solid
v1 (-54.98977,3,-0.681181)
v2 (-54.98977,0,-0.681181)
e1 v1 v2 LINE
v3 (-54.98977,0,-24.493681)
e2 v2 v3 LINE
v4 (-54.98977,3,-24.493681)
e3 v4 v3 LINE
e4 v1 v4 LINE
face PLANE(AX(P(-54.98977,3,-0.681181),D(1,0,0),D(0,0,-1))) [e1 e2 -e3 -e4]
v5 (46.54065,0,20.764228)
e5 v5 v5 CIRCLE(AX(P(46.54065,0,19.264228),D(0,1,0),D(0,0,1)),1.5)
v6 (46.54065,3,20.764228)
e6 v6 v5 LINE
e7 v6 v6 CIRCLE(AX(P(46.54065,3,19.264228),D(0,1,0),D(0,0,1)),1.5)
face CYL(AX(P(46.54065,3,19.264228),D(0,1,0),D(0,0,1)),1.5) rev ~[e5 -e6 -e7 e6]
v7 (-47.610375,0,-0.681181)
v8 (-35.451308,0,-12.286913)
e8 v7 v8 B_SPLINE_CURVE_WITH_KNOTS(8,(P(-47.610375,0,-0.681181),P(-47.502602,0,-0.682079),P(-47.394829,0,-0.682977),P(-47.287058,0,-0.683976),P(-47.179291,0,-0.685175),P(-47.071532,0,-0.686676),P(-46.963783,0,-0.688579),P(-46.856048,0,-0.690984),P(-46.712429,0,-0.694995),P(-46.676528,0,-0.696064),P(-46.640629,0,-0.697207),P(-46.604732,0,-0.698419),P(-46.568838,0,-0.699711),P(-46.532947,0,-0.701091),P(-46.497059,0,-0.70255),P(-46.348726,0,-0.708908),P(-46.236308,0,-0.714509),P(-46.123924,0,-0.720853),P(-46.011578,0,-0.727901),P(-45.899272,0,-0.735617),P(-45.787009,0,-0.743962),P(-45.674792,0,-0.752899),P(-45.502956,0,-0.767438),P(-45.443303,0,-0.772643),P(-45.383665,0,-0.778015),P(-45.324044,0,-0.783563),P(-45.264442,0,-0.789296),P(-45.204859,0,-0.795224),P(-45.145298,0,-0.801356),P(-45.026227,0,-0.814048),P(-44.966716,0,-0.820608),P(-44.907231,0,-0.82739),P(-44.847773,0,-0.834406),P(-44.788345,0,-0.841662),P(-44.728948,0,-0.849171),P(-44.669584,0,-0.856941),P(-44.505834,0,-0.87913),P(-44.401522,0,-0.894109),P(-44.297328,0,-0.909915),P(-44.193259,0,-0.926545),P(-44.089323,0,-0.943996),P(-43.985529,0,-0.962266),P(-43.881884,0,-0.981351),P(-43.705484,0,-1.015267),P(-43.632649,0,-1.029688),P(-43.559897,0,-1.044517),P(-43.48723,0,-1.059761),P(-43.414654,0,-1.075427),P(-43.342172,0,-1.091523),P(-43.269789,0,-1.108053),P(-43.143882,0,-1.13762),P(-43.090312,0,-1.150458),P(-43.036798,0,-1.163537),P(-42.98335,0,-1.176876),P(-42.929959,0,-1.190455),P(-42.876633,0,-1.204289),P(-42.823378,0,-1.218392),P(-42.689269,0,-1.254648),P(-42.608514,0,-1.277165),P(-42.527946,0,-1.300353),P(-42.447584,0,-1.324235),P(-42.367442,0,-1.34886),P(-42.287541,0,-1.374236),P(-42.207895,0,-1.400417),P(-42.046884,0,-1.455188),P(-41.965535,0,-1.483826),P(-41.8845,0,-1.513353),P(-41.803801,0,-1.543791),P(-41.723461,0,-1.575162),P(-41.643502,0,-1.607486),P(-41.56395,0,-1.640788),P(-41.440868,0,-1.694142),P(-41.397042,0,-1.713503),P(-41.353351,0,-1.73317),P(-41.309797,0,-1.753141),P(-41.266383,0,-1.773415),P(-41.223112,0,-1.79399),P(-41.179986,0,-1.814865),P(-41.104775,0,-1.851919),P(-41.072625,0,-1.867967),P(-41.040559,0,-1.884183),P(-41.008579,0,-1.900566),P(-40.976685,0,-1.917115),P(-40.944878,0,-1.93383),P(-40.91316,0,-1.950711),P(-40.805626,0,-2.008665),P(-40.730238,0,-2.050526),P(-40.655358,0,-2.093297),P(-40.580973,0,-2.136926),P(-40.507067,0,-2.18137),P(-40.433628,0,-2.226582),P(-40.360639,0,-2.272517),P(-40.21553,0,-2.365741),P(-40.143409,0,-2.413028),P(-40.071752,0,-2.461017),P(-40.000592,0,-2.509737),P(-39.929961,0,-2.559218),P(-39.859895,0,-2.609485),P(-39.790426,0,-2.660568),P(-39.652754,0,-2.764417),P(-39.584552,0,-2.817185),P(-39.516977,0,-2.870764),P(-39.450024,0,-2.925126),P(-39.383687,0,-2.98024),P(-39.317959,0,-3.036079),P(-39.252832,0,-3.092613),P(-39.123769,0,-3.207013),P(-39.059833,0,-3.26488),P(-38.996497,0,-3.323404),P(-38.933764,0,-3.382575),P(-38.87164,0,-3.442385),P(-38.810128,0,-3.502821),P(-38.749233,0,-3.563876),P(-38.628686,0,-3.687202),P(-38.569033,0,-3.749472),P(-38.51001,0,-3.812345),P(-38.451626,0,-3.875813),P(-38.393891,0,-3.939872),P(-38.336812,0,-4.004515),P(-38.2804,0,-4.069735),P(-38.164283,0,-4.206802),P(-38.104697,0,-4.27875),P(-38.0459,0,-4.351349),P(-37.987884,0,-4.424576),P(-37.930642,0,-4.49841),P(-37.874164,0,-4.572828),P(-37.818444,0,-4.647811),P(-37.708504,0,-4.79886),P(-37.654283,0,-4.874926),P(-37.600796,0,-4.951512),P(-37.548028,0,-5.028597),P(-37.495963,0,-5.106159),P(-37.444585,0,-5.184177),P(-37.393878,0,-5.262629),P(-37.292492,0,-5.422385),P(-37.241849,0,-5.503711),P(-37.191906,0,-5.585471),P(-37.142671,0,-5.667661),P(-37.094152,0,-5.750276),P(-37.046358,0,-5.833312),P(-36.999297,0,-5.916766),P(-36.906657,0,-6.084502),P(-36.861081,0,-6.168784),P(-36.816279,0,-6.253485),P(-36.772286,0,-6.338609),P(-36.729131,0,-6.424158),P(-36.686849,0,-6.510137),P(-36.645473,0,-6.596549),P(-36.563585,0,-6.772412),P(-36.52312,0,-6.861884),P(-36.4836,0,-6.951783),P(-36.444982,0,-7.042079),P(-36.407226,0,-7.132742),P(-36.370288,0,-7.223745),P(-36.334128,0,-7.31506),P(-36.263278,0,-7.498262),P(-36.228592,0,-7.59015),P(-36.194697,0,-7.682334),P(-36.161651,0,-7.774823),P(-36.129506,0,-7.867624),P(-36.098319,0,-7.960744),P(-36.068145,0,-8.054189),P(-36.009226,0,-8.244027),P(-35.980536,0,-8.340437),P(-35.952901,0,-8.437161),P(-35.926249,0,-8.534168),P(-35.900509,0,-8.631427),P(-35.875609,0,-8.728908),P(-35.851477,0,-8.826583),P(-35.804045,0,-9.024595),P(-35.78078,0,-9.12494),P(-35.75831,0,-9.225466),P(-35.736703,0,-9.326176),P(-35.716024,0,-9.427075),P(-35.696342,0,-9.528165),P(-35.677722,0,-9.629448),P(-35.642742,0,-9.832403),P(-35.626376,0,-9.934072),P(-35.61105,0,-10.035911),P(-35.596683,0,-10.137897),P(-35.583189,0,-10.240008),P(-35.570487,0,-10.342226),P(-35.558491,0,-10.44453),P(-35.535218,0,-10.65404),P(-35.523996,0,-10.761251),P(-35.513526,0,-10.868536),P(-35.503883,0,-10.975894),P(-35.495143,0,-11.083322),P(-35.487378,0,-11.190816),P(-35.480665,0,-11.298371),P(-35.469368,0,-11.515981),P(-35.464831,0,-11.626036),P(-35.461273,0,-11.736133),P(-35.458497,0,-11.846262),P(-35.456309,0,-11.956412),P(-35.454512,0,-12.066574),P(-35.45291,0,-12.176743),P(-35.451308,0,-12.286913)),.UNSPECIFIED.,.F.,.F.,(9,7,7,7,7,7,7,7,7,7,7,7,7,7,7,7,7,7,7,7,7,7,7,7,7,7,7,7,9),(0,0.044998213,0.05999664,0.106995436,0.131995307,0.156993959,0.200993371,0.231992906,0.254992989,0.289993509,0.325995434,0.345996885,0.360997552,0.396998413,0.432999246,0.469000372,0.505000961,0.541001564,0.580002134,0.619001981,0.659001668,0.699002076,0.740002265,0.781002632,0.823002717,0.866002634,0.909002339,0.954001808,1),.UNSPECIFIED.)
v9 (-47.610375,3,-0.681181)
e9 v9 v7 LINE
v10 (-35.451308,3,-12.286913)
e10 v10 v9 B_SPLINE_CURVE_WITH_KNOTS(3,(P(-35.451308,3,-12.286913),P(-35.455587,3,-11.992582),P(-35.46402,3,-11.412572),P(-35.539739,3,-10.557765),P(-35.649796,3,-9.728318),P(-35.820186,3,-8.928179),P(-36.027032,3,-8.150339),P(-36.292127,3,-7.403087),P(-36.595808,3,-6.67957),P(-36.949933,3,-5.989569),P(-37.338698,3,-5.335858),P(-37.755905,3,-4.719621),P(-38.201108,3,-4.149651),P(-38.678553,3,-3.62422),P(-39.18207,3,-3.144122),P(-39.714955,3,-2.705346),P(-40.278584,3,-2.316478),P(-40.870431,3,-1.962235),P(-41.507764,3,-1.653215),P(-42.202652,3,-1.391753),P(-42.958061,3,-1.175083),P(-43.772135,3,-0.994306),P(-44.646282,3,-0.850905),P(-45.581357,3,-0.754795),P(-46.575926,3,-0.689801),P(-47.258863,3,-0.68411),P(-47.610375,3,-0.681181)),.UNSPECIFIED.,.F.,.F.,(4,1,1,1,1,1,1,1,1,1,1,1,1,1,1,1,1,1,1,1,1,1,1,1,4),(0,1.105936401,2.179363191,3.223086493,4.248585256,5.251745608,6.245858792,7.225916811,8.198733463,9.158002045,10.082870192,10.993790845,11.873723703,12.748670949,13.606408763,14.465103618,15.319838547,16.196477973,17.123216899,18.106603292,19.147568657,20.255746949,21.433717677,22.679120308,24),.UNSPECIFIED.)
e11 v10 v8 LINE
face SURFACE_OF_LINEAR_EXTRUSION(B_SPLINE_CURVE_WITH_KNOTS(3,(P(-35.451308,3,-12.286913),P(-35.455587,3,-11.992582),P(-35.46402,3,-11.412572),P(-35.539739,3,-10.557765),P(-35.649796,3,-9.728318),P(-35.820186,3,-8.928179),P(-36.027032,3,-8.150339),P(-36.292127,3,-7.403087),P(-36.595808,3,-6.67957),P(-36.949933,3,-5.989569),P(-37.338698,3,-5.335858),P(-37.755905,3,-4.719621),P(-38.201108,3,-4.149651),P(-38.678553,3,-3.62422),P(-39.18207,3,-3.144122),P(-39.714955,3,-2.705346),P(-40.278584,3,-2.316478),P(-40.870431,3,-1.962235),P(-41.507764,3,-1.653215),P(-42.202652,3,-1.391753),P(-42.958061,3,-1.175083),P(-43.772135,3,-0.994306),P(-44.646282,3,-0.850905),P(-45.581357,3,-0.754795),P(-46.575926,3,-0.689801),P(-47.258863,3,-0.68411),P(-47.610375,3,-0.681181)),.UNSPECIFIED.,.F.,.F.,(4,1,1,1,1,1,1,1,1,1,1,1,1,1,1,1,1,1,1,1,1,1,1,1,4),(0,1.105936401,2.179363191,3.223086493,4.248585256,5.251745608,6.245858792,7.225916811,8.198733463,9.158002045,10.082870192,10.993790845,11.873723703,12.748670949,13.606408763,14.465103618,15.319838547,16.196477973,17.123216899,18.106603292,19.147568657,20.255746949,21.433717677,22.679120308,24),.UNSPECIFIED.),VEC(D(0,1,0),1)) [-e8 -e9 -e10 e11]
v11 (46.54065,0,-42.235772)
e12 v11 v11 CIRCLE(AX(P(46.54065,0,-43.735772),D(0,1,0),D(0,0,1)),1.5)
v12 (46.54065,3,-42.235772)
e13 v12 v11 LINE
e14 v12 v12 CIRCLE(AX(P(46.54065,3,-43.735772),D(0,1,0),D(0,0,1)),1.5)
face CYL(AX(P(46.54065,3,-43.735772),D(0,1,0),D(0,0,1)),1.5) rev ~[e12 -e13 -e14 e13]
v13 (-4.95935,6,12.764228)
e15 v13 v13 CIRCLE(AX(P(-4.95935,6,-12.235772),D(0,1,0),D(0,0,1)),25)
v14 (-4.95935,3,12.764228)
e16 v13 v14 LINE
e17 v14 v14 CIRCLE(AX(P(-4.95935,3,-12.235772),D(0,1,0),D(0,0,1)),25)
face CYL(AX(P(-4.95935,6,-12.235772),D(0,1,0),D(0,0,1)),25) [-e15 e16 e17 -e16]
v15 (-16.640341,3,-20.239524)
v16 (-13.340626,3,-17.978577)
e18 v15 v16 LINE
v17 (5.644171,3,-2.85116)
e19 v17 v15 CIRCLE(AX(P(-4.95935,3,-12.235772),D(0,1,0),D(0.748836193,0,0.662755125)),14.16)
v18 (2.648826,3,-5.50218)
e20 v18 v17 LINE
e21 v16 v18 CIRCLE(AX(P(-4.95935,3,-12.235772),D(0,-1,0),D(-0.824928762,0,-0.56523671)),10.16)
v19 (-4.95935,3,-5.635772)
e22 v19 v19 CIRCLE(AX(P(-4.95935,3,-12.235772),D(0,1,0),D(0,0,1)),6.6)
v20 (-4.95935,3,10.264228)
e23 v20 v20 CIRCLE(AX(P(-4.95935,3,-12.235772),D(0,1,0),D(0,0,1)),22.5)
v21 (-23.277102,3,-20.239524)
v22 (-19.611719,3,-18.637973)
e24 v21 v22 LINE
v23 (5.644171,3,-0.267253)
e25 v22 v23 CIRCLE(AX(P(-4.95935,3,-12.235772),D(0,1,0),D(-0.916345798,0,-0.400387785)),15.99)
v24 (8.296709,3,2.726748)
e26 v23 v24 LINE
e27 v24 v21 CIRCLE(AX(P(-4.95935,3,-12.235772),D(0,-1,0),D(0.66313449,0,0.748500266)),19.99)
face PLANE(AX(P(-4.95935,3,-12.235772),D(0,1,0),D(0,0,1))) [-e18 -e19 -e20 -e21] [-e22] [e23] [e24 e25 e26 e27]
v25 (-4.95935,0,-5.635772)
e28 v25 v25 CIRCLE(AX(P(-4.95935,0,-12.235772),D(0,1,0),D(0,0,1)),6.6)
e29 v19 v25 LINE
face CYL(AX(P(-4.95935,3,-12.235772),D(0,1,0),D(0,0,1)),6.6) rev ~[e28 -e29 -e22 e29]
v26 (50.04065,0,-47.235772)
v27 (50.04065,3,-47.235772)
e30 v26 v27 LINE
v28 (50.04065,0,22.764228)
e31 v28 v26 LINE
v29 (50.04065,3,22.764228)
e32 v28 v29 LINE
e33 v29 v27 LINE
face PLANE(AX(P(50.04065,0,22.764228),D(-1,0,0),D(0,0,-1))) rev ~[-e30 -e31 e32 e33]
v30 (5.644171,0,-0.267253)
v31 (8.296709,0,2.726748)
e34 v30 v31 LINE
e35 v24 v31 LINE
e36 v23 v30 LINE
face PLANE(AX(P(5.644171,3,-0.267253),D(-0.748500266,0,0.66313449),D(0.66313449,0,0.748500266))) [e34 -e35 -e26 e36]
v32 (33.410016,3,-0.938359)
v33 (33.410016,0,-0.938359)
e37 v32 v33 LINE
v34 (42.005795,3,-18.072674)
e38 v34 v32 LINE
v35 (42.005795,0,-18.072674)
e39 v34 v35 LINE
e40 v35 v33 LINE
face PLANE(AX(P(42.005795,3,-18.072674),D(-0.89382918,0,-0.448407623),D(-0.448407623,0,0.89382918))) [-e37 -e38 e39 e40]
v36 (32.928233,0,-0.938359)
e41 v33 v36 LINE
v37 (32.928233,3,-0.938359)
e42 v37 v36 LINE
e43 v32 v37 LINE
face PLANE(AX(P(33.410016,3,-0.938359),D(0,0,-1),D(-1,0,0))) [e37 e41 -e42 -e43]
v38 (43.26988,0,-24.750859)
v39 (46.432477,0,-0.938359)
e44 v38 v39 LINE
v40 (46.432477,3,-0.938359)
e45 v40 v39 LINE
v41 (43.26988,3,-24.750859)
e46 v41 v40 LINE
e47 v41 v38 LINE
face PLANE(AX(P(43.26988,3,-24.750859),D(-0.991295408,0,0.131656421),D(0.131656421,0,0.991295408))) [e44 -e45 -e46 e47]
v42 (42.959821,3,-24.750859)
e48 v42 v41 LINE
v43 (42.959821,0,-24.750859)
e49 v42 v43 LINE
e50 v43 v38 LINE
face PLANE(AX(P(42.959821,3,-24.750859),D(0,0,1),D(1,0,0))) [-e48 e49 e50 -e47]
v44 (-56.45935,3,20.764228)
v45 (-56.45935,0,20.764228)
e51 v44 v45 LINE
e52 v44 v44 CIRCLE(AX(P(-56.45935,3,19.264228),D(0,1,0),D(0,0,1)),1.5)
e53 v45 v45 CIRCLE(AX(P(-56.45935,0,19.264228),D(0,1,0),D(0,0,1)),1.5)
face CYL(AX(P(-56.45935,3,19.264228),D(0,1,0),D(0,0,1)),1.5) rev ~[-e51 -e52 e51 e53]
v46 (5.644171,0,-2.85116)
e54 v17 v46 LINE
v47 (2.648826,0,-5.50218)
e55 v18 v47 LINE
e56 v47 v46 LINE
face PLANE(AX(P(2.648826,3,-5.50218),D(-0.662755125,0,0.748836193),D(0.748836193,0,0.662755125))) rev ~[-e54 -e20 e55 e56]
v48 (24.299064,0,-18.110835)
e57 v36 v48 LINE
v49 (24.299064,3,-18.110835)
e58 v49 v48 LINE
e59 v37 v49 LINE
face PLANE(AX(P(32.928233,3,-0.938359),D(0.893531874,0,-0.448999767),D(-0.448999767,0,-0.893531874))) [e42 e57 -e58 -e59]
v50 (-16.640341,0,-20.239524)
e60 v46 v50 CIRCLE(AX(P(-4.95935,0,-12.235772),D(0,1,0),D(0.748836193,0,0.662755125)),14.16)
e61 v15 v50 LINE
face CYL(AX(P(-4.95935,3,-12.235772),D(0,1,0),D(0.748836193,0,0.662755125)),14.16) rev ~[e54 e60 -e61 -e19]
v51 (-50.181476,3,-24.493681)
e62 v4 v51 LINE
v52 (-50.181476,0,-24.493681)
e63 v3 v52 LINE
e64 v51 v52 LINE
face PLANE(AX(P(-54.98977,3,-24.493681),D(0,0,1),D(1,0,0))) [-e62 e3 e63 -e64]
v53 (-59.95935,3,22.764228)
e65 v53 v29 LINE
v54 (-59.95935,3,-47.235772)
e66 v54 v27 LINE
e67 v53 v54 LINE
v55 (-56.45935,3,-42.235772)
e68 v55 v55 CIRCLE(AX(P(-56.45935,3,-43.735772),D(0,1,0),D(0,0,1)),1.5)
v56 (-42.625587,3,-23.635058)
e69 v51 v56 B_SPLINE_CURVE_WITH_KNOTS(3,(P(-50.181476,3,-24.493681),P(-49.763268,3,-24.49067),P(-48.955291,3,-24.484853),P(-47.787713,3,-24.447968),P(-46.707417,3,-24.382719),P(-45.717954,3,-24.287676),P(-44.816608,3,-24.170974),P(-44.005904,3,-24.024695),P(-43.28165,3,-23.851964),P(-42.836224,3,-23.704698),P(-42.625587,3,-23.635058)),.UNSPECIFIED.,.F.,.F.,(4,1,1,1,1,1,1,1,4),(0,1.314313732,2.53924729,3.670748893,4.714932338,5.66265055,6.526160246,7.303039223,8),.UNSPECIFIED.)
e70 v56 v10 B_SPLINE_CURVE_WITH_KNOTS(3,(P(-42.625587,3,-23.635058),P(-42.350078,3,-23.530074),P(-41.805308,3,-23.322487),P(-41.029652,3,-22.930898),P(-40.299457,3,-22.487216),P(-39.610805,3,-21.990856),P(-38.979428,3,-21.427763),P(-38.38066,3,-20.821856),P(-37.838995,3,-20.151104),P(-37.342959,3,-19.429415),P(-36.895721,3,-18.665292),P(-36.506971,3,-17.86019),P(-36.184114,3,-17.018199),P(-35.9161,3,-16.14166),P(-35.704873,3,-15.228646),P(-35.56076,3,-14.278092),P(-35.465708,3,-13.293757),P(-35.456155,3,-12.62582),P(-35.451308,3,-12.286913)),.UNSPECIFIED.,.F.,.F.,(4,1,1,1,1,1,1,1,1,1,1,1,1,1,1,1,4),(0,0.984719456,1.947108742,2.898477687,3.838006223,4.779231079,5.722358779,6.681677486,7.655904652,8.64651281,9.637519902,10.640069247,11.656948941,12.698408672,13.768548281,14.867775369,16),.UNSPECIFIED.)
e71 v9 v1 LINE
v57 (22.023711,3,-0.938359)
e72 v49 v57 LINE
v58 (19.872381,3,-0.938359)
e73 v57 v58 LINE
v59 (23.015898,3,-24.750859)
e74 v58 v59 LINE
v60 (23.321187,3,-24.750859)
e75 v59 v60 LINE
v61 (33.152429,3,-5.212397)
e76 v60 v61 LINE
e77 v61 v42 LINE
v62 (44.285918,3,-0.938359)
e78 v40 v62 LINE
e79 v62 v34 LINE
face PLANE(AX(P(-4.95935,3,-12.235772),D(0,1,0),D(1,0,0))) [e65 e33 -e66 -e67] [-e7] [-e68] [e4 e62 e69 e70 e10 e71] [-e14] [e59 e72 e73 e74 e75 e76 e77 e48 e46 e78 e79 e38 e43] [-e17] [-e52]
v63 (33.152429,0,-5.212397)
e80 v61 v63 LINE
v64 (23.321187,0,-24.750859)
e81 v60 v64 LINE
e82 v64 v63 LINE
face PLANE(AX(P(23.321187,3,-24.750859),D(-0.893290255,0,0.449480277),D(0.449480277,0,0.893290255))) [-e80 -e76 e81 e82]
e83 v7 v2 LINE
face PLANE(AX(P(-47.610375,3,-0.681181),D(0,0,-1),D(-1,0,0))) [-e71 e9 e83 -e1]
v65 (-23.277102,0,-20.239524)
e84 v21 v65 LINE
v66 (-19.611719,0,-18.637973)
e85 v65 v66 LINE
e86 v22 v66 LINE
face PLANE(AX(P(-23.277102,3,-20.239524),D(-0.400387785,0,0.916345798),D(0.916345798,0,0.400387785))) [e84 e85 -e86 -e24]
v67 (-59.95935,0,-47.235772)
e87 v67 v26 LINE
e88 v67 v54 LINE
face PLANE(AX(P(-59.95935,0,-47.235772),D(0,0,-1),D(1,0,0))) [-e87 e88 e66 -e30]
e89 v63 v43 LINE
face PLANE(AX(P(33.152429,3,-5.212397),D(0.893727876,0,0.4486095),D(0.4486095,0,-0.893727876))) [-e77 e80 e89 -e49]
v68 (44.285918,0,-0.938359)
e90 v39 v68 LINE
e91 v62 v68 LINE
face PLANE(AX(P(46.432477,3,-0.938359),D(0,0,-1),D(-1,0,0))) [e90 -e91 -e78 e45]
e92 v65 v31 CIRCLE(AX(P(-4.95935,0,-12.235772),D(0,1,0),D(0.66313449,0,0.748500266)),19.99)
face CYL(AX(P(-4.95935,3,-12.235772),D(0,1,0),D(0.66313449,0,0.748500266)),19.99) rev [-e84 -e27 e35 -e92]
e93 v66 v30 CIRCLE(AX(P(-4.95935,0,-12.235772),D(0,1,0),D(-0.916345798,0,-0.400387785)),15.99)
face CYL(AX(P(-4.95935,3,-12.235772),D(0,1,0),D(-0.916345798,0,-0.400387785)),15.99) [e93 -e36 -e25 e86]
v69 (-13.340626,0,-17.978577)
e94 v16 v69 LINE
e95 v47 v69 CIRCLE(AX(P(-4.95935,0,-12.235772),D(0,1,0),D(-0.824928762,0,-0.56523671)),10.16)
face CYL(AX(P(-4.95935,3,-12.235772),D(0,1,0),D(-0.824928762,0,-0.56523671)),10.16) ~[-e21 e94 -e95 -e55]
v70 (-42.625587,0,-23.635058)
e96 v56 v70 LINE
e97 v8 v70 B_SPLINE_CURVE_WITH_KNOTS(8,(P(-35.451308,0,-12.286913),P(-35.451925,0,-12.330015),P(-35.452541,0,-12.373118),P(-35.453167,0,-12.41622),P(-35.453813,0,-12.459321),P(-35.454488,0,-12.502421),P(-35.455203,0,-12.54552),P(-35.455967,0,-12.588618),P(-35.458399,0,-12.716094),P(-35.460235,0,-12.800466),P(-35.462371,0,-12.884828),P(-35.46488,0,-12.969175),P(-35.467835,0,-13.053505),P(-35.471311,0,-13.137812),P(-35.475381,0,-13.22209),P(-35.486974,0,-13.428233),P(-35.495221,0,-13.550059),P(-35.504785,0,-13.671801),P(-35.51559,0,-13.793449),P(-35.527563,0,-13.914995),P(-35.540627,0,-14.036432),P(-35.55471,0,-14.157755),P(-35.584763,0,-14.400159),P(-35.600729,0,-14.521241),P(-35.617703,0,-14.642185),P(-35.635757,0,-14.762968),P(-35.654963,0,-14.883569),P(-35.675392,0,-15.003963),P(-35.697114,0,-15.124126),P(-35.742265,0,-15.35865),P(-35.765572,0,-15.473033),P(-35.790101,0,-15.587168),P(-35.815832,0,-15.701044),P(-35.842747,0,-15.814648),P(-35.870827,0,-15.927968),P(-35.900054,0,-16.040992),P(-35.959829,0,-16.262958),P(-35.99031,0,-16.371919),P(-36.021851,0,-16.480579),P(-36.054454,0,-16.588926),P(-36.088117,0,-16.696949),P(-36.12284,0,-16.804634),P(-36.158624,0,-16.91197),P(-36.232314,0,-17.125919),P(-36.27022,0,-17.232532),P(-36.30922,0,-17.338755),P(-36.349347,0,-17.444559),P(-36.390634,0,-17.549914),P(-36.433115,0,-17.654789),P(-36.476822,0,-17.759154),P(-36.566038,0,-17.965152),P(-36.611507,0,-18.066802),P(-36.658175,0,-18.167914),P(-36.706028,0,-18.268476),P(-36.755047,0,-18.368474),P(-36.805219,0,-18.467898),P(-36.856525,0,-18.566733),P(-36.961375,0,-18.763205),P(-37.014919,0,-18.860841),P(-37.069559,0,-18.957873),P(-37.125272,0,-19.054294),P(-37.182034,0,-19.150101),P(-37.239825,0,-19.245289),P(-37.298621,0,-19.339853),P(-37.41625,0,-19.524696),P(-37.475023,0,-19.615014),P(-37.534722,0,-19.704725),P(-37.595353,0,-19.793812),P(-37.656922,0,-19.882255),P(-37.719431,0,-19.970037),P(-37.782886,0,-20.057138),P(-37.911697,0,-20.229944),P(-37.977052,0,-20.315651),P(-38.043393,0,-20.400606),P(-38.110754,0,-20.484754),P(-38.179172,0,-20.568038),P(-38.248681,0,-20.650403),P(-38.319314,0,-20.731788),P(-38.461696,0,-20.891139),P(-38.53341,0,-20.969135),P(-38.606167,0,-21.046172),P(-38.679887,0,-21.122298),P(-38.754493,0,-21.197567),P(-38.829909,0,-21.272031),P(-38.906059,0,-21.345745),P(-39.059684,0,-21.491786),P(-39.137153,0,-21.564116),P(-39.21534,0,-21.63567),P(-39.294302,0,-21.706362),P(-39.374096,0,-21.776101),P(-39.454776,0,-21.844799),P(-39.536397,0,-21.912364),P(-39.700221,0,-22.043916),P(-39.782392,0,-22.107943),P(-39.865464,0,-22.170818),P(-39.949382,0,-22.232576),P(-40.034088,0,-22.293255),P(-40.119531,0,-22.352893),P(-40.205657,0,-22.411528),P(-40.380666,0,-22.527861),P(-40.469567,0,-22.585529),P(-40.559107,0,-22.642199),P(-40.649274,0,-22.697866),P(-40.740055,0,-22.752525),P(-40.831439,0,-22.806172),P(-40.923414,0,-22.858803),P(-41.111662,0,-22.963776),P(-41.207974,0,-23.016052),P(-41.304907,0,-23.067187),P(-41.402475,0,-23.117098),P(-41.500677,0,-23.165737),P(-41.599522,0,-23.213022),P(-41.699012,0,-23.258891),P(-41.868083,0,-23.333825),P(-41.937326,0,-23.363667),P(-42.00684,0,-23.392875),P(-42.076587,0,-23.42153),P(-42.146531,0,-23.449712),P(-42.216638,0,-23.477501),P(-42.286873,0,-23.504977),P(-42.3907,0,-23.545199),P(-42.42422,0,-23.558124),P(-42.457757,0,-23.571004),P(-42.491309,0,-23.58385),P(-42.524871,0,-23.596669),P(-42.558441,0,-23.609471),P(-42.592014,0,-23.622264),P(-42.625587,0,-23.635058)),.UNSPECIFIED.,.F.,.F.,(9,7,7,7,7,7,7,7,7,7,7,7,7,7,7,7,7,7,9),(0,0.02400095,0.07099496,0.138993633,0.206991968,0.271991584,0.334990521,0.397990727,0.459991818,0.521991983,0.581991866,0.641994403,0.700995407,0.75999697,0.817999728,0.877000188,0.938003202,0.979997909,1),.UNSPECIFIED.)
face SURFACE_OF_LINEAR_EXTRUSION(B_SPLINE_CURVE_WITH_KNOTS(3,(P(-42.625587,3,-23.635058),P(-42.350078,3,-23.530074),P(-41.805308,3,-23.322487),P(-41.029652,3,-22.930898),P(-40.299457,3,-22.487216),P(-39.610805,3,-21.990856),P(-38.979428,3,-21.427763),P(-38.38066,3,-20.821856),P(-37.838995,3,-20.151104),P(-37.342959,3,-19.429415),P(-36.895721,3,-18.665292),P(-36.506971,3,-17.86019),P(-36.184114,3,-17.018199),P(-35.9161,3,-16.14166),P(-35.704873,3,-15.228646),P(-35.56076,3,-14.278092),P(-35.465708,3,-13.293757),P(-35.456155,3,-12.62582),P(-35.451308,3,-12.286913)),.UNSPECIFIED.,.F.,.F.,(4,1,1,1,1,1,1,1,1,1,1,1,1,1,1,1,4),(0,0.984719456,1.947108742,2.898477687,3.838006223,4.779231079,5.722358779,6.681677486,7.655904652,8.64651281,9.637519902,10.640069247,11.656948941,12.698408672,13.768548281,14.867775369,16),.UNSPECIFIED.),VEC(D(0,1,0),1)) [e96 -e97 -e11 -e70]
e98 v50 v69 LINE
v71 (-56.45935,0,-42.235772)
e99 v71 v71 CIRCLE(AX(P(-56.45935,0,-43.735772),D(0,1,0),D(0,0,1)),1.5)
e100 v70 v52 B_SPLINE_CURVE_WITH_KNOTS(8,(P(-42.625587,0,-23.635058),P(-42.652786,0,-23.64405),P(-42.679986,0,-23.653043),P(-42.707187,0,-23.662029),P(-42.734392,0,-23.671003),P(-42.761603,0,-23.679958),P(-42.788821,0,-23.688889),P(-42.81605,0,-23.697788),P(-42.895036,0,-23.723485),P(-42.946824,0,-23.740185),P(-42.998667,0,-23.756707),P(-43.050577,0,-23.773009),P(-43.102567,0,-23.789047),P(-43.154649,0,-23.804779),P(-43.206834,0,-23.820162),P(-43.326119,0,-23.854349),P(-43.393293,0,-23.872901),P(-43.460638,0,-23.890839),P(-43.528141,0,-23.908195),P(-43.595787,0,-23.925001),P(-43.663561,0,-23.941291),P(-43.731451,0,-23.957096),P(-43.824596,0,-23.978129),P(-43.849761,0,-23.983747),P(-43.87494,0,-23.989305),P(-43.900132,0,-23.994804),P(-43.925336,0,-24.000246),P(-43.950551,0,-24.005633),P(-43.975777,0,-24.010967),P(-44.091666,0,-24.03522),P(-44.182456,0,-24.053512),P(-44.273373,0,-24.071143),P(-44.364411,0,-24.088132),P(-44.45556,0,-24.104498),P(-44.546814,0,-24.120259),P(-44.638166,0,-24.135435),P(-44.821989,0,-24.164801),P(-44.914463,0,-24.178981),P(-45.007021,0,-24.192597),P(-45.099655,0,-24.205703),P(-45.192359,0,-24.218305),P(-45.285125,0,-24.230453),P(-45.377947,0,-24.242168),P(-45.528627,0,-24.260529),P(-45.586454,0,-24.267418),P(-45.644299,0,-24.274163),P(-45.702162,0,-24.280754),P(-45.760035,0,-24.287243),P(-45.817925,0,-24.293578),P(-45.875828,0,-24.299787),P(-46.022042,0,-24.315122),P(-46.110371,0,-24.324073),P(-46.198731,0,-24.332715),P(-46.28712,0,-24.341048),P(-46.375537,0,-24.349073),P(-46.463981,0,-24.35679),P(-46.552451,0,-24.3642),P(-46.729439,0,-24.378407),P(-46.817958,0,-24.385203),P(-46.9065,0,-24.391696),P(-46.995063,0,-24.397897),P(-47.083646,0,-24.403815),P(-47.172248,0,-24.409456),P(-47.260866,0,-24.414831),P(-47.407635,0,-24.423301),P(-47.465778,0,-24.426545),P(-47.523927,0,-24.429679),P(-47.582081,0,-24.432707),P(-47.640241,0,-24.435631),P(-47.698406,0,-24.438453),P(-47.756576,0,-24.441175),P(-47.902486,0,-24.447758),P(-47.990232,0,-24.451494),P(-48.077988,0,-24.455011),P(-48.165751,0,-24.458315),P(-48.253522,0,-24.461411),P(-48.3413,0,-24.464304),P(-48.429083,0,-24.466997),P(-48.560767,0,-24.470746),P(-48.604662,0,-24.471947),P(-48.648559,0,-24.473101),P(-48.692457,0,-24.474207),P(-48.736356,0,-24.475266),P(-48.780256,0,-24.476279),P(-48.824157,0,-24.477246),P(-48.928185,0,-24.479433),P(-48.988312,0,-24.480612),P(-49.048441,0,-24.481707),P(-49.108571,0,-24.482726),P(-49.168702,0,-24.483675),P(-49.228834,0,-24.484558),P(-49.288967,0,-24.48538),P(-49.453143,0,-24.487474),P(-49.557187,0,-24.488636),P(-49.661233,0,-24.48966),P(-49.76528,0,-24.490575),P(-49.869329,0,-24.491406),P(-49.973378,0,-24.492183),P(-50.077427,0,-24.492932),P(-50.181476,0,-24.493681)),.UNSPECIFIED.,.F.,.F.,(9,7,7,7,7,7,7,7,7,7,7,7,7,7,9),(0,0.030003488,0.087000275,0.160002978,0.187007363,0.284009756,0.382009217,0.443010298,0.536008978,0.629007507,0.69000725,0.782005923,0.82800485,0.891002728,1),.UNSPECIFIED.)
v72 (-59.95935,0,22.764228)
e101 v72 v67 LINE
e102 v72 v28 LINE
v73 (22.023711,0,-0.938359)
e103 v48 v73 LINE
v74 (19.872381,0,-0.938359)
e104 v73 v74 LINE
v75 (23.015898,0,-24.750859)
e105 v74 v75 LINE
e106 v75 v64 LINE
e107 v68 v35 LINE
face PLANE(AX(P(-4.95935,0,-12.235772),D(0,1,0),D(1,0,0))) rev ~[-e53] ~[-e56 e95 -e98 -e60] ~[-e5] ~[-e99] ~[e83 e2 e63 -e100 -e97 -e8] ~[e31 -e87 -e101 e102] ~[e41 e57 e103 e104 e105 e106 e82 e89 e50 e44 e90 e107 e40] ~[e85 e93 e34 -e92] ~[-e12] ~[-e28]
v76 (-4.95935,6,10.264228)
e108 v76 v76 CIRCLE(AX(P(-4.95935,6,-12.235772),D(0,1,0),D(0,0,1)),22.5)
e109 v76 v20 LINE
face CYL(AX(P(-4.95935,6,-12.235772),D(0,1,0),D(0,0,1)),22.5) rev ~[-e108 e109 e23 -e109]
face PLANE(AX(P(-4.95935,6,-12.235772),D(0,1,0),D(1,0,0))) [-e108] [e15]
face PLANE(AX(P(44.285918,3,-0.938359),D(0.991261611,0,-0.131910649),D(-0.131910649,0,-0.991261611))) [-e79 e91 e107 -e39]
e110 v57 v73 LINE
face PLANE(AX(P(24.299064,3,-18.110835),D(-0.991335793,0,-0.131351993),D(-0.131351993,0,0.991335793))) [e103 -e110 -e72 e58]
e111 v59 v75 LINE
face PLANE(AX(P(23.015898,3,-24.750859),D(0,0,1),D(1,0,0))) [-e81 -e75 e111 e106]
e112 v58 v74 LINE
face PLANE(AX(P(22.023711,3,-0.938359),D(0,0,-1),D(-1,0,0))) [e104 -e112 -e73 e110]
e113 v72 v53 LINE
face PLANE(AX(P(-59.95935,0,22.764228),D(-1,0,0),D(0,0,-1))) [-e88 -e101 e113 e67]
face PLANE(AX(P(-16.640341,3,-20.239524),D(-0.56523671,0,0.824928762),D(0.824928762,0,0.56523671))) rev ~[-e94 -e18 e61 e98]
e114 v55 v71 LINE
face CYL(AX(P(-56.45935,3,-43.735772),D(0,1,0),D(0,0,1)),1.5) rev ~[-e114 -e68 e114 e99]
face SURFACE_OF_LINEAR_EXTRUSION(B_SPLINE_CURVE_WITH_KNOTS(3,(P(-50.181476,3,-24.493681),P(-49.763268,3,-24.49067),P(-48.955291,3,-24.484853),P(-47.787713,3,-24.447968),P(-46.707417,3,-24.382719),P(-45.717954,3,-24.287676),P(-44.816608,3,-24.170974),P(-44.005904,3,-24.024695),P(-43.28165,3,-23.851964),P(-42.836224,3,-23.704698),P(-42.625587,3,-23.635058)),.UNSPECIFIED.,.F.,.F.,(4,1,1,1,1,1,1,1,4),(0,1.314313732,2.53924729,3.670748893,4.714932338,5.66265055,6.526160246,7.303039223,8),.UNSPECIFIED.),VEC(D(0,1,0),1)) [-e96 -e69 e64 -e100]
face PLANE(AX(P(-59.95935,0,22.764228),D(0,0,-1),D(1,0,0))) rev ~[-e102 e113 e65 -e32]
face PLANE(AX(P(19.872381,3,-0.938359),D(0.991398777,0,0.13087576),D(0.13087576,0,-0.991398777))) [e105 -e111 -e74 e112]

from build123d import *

# Parameters (mm, degrees)
SKETCH1_W           = 110
SKETCH1_H           = 70
BOSS_EXTRUDE1_DEPTH = 6
SKETCH2_R           = 22.5
CUT_EXTRUDE1_DEPTH  = 3
SKETCH3_R           = 6.6
CUT_EXTRUDE2_DEPTH  = 3.2
SKETCH4_W           = 110
SKETCH4_H           = 70
SKETCH4_R           = 25
CUT_EXTRUDE3_DEPTH  = 3
SKETCH5_R           = 1.5
CUT_EXTRUDE4_DEPTH  = 77.389408912
CUT_EXTRUDE5_DEPTH  = 5
CUT_EXTRUDE6_DEPTH  = 11.5


with BuildPart() as part:
    # Sketch1 → Boss-Extrude1 (new body)
    with BuildSketch(Plane(origin=(0, 0, 0), x_dir=(1, 0, 0), z_dir=(0, 1, 0))):
        with Locations((-4.959349593, 12.235772358)):
            Rectangle(SKETCH1_W, SKETCH1_H)
    extrude(amount=BOSS_EXTRUDE1_DEPTH)

    # Sketch2 → Cut-Extrude1 (cut)
    with BuildSketch(Plane(origin=(0, 6, 0), x_dir=(1, 0, 0), z_dir=(0, 1, 0))):
        with Locations(Location((-4.959349593, 12.235772358, 0), (0, 0, 270))):
            Circle(SKETCH2_R)
    extrude(amount=-CUT_EXTRUDE1_DEPTH, mode=Mode.SUBTRACT)

    # Sketch3 → Cut-Extrude2 (cut)
    with BuildSketch(Plane(origin=(0, 3, 0), x_dir=(1, 0, 0), z_dir=(0, 1, 0))):
        with Locations(Location((-4.959349593, 12.235772358, 0), (0, 0, 270))):
            Circle(SKETCH3_R)
    extrude(amount=-CUT_EXTRUDE2_DEPTH, mode=Mode.SUBTRACT)

    # Sketch4 → Cut-Extrude3 (cut)
    with BuildSketch(Plane(origin=(0, 6, 0), x_dir=(1, 0, 0), z_dir=(0, 1, 0))):
        with Locations((-4.959349593, 12.235772358)):
            Rectangle(SKETCH4_W, SKETCH4_H)
        with Locations(Location((-4.959349593, 12.235772358, 0), (0, 0, 270))):
            Circle(SKETCH4_R, mode=Mode.SUBTRACT)
    extrude(amount=-CUT_EXTRUDE3_DEPTH, mode=Mode.SUBTRACT)

    # Sketch5 → Cut-Extrude4 (cut, through all)
    with BuildSketch(Plane(origin=(0, 3, 0), x_dir=(1, 0, 0), z_dir=(0, 1, 0))):
        with Locations(Location((-56.459349593, 43.735772358, 0), (0, 0, 270))):
            Circle(SKETCH5_R)
        with Locations(Location((-56.459349593, -19.264227642, 0), (0, 0, 270))):
            Circle(SKETCH5_R)
        with Locations(Location((46.540650407, -19.264227642, 0), (0, 0, 270))):
            Circle(SKETCH5_R)
        with Locations(Location((46.540650407, 43.735772358, 0), (0, 0, 270))):
            Circle(SKETCH5_R)
    extrude(amount=-CUT_EXTRUDE4_DEPTH, mode=Mode.SUBTRACT)

    # Sketch6 → Cut-Extrude5 (cut)
    with BuildSketch(Plane(origin=(0, 3, 0), x_dir=(1, 0, 0), z_dir=(0, 1, 0))):
        with BuildLine():
            Line((-16.640340857, 20.239524173), (-13.34062581, 17.978577332))
            ThreePointArc((-13.34062581, 17.978577332), (1.290813758, 20.245832163), (2.648826126, 5.502180284))
            Line((2.648826126, 5.502180284), (5.644170898, 2.851159782))
            ThreePointArc((5.644170898, 2.851159782), (3.751507991, 23.399399015), (-16.640340857, 20.239524173))
        make_face()
        with BuildLine():
            Line((-23.2771021, 20.239524173), (-19.611718907, 18.637973034))
            ThreePointArc((-19.611718907, 18.637973034), (-14.365152691, -0.69523565), (5.644170898, 0.267253101))
            Line((5.644170898, 0.267253101), (8.296708857, -2.726747963))
            ThreePointArc((8.296708857, -2.726747963), (-16.718074041, -3.930009385), (-23.2771021, 20.239524173))
        make_face()
    extrude(amount=-CUT_EXTRUDE5_DEPTH, mode=Mode.SUBTRACT)

    # Sketch7 → Cut-Extrude6 (cut)
    # profile 1 of 2: a face of its own
    with BuildSketch(Plane(origin=(0, 3, 0), x_dir=(1, 0, 0), z_dir=(0, 1, 0))):
        with BuildLine():
            Line((-54.989769689, 0.681181381), (-54.989769689, 24.493681381))
            Line((-54.989769689, 24.493681381), (-50.18147642, 24.493681381))
            add(Edge.make_bspline(
                [(-50.18147642, 24.493681381), (-49.763267768, 24.490670325), (-48.955290829, 24.484852979), (-47.787713285, 24.447968157), (-46.707416615, 24.382718738), (-45.71795377, 24.287676069), (-44.816608381, 24.170974179), (-44.00590428, 24.024694643), (-43.281649522, 23.851964412), (-42.836223506, 23.704698045), (-42.625586997, 23.635057583)],
                knots=[0, 0, 0, 0, 1.314313732, 2.53924729, 3.670748893, 4.714932338, 5.66265055, 6.526160246, 7.303039223, 8, 8, 8, 8], degree=3))
            add(Edge.make_bspline(
                [(-42.625586997, 23.635057583), (-42.350078145, 23.530073675), (-41.805308069, 23.322486546), (-41.029652467, 22.930898138), (-40.299456694, 22.487216143), (-39.610805012, 21.99085572), (-38.979427961, 21.427762563), (-38.38065995, 20.82185632), (-37.838995489, 20.151103505), (-37.34295869, 19.429414748), (-36.895721435, 18.665291678), (-36.506971093, 17.860190313), (-36.18411446, 17.018199309), (-35.916099829, 16.141660177), (-35.704873038, 15.228645535), (-35.560760252, 14.278092268), (-35.465707625, 13.293757068), (-35.456155061, 12.625820092), (-35.451308151, 12.286913052)],
                knots=[0, 0, 0, 0, 0.984719456, 1.947108742, 2.898477687, 3.838006223, 4.779231079, 5.722358779, 6.681677486, 7.655904652, 8.64651281, 9.637519902, 10.640069247, 11.656948941, 12.698408672, 13.768548281, 14.867775369, 16, 16, 16, 16], degree=3))
            add(Edge.make_bspline(
                [(-35.451308151, 12.286913052), (-35.455587376, 11.992582126), (-35.464020036, 11.412572294), (-35.539739131, 10.557765486), (-35.64979588, 9.728317795), (-35.820185869, 8.928179015), (-36.027031541, 8.150338818), (-36.292126927, 7.403087299), (-36.595807714, 6.679569596), (-36.94993278, 5.989568554), (-37.338698275, 5.335858468), (-37.755905135, 4.719621392), (-38.201108366, 4.149650687), (-38.678553297, 3.624220308), (-39.182070082, 3.144122355), (-39.71495526, 2.705346322), (-40.278583873, 2.316477619), (-40.870431469, 1.962235329), (-41.507763705, 1.653214696), (-42.202652366, 1.391753379), (-42.958060916, 1.175082657), (-43.772135159, 0.994305669), (-44.646281677, 0.850904735), (-45.581357498, 0.754794815), (-46.575925951, 0.689800755), (-47.258863452, 0.684110293), (-47.610375158, 0.681181381)],
                knots=[0, 0, 0, 0, 1.105936401, 2.179363191, 3.223086493, 4.248585256, 5.251745608, 6.245858792, 7.225916811, 8.198733463, 9.158002045, 10.082870192, 10.993790845, 11.873723703, 12.748670949, 13.606408763, 14.465103618, 15.319838547, 16.196477973, 17.123216899, 18.106603292, 19.147568657, 20.255746949, 21.433717677, 22.679120308, 24, 24, 24, 24], degree=3))
            Line((-47.610375158, 0.681181381), (-54.989769689, 0.681181381))
        make_face()
        with BuildLine():
            Line((-52.852750458, 3.123489074), (-50.119464701, 3.123489074))
            add(Edge.make_bspline(
                [(-50.119464701, 3.123489074), (-49.726705607, 3.125177015), (-48.971286032, 3.128423544), (-47.885041444, 3.15691148), (-46.89254055, 3.203461091), (-45.993642423, 3.268605816), (-45.188854597, 3.354797645), (-44.476495156, 3.450897429), (-43.858899202, 3.570622943), (-43.485182854, 3.679146434), (-43.312486035, 3.729295864)],
                knots=[0, 0, 0, 0, 1.375205317, 2.645023457, 3.804390687, 4.853969522, 5.800190428, 6.637939096, 7.370582563, 8, 8, 8, 8], degree=3))
            add(Edge.make_bspline(
                [(-43.312486035, 3.729295864), (-43.095123072, 3.805846645), (-42.665588855, 3.957119791), (-42.0472729, 4.233056736), (-41.470622565, 4.559914389), (-40.925588286, 4.923240575), (-40.419901576, 5.335849981), (-39.947569642, 5.788770459), (-39.509543458, 6.284307053), (-39.110348613, 6.821844724), (-38.753104615, 7.398037798), (-38.443737858, 8.007221648), (-38.172605116, 8.642721554), (-37.959798977, 9.314296365), (-37.793005449, 10.01594228), (-37.674863555, 10.74770866), (-37.601284804, 11.509458845), (-37.592702453, 12.027565262), (-37.588327381, 12.291683184)],
                knots=[0, 0, 0, 0, 0.998632004, 1.973411704, 2.929992603, 3.868527914, 4.809262121, 5.754881198, 6.702106254, 7.672490631, 8.653608572, 9.636854334, 10.631411391, 11.644891563, 12.686317036, 13.754757253, 14.855430412, 16, 16, 16, 16], degree=3))
            add(Edge.make_bspline(
                [(-37.588327381, 12.291683184), (-37.591819569, 12.570177041), (-37.598680001, 13.117280688), (-37.684910578, 13.920038812), (-37.810923303, 14.692112523), (-37.993148024, 15.43355346), (-38.225359897, 16.145808141), (-38.515155584, 16.824937309), (-38.846262405, 17.478113292), (-39.240211893, 18.090260316), (-39.671664412, 18.669197362), (-40.150485341, 19.199569198), (-40.669067425, 19.682583991), (-41.221754525, 20.125763958), (-41.824123004, 20.511279324), (-42.461982936, 20.856129779), (-43.144691878, 21.148791469), (-43.61966754, 21.304449446), (-43.861051239, 21.383555179)],
                knots=[0, 0, 0, 0, 1.122418816, 2.205001699, 3.251619955, 4.274784885, 5.280384055, 6.268708349, 7.249350384, 8.229342522, 9.199999885, 10.157847722, 11.105861043, 12.055065948, 13.010012805, 13.98527497, 14.976112212, 16, 16, 16, 16], degree=3))
            add(Edge.make_bspline(
                [(-43.861051239, 21.383555179), (-44.06074386, 21.438775876), (-44.485345162, 21.556190228), (-45.17821723, 21.684269995), (-45.958009586, 21.79723989), (-46.828184338, 21.892884765), (-47.787749569, 21.961514576), (-48.837443267, 22.013026556), (-49.977719148, 22.047769895), (-50.768175316, 22.050142349), (-51.178434052, 22.051373689)],
                knots=[0, 0, 0, 0, 0.674548936, 1.434276114, 2.292660221, 3.240891867, 4.284742987, 5.42552168, 6.663806718, 8, 8, 8, 8], degree=3))
            Line((-51.178434052, 22.051373689), (-52.852750458, 22.051373689))
            Line((-52.852750458, 22.051373689), (-52.852750458, 3.123489074))
        make_face(mode=Mode.SUBTRACT)
    # profile 2 of 2: a face of its own
    with BuildSketch(Plane(origin=(0, 3, 0), x_dir=(1, 0, 0), z_dir=(0, 1, 0))):
        Polygon((19.872381176, 0.938358716), (23.015898303, 24.750858716), (23.321186765, 24.750858716), (33.152429253, 5.212397178), (42.95982108, 24.750858716), (43.269879673, 24.750858716), (46.43247733, 0.938358716), (44.285917834, 0.938358716), (42.005794637, 18.07267362), (33.410016392, 0.938358716), (32.928233039, 0.938358716), (24.299063868, 18.110834678), (22.023710803, 0.938358716), align=None)
    extrude(amount=-CUT_EXTRUDE6_DEPTH, mode=Mode.SUBTRACT)


with BuildPart() as cut_extrude6_kept_piece:
    # of the separate pieces the step leaves, the one the design keeps (cut_extrude6_pieces_kept)
    add(part.part.solids().sort_by_distance((-59.959349593, 0, -47.235772358))[0])


solid = cut_extrude6_kept_piece.part
